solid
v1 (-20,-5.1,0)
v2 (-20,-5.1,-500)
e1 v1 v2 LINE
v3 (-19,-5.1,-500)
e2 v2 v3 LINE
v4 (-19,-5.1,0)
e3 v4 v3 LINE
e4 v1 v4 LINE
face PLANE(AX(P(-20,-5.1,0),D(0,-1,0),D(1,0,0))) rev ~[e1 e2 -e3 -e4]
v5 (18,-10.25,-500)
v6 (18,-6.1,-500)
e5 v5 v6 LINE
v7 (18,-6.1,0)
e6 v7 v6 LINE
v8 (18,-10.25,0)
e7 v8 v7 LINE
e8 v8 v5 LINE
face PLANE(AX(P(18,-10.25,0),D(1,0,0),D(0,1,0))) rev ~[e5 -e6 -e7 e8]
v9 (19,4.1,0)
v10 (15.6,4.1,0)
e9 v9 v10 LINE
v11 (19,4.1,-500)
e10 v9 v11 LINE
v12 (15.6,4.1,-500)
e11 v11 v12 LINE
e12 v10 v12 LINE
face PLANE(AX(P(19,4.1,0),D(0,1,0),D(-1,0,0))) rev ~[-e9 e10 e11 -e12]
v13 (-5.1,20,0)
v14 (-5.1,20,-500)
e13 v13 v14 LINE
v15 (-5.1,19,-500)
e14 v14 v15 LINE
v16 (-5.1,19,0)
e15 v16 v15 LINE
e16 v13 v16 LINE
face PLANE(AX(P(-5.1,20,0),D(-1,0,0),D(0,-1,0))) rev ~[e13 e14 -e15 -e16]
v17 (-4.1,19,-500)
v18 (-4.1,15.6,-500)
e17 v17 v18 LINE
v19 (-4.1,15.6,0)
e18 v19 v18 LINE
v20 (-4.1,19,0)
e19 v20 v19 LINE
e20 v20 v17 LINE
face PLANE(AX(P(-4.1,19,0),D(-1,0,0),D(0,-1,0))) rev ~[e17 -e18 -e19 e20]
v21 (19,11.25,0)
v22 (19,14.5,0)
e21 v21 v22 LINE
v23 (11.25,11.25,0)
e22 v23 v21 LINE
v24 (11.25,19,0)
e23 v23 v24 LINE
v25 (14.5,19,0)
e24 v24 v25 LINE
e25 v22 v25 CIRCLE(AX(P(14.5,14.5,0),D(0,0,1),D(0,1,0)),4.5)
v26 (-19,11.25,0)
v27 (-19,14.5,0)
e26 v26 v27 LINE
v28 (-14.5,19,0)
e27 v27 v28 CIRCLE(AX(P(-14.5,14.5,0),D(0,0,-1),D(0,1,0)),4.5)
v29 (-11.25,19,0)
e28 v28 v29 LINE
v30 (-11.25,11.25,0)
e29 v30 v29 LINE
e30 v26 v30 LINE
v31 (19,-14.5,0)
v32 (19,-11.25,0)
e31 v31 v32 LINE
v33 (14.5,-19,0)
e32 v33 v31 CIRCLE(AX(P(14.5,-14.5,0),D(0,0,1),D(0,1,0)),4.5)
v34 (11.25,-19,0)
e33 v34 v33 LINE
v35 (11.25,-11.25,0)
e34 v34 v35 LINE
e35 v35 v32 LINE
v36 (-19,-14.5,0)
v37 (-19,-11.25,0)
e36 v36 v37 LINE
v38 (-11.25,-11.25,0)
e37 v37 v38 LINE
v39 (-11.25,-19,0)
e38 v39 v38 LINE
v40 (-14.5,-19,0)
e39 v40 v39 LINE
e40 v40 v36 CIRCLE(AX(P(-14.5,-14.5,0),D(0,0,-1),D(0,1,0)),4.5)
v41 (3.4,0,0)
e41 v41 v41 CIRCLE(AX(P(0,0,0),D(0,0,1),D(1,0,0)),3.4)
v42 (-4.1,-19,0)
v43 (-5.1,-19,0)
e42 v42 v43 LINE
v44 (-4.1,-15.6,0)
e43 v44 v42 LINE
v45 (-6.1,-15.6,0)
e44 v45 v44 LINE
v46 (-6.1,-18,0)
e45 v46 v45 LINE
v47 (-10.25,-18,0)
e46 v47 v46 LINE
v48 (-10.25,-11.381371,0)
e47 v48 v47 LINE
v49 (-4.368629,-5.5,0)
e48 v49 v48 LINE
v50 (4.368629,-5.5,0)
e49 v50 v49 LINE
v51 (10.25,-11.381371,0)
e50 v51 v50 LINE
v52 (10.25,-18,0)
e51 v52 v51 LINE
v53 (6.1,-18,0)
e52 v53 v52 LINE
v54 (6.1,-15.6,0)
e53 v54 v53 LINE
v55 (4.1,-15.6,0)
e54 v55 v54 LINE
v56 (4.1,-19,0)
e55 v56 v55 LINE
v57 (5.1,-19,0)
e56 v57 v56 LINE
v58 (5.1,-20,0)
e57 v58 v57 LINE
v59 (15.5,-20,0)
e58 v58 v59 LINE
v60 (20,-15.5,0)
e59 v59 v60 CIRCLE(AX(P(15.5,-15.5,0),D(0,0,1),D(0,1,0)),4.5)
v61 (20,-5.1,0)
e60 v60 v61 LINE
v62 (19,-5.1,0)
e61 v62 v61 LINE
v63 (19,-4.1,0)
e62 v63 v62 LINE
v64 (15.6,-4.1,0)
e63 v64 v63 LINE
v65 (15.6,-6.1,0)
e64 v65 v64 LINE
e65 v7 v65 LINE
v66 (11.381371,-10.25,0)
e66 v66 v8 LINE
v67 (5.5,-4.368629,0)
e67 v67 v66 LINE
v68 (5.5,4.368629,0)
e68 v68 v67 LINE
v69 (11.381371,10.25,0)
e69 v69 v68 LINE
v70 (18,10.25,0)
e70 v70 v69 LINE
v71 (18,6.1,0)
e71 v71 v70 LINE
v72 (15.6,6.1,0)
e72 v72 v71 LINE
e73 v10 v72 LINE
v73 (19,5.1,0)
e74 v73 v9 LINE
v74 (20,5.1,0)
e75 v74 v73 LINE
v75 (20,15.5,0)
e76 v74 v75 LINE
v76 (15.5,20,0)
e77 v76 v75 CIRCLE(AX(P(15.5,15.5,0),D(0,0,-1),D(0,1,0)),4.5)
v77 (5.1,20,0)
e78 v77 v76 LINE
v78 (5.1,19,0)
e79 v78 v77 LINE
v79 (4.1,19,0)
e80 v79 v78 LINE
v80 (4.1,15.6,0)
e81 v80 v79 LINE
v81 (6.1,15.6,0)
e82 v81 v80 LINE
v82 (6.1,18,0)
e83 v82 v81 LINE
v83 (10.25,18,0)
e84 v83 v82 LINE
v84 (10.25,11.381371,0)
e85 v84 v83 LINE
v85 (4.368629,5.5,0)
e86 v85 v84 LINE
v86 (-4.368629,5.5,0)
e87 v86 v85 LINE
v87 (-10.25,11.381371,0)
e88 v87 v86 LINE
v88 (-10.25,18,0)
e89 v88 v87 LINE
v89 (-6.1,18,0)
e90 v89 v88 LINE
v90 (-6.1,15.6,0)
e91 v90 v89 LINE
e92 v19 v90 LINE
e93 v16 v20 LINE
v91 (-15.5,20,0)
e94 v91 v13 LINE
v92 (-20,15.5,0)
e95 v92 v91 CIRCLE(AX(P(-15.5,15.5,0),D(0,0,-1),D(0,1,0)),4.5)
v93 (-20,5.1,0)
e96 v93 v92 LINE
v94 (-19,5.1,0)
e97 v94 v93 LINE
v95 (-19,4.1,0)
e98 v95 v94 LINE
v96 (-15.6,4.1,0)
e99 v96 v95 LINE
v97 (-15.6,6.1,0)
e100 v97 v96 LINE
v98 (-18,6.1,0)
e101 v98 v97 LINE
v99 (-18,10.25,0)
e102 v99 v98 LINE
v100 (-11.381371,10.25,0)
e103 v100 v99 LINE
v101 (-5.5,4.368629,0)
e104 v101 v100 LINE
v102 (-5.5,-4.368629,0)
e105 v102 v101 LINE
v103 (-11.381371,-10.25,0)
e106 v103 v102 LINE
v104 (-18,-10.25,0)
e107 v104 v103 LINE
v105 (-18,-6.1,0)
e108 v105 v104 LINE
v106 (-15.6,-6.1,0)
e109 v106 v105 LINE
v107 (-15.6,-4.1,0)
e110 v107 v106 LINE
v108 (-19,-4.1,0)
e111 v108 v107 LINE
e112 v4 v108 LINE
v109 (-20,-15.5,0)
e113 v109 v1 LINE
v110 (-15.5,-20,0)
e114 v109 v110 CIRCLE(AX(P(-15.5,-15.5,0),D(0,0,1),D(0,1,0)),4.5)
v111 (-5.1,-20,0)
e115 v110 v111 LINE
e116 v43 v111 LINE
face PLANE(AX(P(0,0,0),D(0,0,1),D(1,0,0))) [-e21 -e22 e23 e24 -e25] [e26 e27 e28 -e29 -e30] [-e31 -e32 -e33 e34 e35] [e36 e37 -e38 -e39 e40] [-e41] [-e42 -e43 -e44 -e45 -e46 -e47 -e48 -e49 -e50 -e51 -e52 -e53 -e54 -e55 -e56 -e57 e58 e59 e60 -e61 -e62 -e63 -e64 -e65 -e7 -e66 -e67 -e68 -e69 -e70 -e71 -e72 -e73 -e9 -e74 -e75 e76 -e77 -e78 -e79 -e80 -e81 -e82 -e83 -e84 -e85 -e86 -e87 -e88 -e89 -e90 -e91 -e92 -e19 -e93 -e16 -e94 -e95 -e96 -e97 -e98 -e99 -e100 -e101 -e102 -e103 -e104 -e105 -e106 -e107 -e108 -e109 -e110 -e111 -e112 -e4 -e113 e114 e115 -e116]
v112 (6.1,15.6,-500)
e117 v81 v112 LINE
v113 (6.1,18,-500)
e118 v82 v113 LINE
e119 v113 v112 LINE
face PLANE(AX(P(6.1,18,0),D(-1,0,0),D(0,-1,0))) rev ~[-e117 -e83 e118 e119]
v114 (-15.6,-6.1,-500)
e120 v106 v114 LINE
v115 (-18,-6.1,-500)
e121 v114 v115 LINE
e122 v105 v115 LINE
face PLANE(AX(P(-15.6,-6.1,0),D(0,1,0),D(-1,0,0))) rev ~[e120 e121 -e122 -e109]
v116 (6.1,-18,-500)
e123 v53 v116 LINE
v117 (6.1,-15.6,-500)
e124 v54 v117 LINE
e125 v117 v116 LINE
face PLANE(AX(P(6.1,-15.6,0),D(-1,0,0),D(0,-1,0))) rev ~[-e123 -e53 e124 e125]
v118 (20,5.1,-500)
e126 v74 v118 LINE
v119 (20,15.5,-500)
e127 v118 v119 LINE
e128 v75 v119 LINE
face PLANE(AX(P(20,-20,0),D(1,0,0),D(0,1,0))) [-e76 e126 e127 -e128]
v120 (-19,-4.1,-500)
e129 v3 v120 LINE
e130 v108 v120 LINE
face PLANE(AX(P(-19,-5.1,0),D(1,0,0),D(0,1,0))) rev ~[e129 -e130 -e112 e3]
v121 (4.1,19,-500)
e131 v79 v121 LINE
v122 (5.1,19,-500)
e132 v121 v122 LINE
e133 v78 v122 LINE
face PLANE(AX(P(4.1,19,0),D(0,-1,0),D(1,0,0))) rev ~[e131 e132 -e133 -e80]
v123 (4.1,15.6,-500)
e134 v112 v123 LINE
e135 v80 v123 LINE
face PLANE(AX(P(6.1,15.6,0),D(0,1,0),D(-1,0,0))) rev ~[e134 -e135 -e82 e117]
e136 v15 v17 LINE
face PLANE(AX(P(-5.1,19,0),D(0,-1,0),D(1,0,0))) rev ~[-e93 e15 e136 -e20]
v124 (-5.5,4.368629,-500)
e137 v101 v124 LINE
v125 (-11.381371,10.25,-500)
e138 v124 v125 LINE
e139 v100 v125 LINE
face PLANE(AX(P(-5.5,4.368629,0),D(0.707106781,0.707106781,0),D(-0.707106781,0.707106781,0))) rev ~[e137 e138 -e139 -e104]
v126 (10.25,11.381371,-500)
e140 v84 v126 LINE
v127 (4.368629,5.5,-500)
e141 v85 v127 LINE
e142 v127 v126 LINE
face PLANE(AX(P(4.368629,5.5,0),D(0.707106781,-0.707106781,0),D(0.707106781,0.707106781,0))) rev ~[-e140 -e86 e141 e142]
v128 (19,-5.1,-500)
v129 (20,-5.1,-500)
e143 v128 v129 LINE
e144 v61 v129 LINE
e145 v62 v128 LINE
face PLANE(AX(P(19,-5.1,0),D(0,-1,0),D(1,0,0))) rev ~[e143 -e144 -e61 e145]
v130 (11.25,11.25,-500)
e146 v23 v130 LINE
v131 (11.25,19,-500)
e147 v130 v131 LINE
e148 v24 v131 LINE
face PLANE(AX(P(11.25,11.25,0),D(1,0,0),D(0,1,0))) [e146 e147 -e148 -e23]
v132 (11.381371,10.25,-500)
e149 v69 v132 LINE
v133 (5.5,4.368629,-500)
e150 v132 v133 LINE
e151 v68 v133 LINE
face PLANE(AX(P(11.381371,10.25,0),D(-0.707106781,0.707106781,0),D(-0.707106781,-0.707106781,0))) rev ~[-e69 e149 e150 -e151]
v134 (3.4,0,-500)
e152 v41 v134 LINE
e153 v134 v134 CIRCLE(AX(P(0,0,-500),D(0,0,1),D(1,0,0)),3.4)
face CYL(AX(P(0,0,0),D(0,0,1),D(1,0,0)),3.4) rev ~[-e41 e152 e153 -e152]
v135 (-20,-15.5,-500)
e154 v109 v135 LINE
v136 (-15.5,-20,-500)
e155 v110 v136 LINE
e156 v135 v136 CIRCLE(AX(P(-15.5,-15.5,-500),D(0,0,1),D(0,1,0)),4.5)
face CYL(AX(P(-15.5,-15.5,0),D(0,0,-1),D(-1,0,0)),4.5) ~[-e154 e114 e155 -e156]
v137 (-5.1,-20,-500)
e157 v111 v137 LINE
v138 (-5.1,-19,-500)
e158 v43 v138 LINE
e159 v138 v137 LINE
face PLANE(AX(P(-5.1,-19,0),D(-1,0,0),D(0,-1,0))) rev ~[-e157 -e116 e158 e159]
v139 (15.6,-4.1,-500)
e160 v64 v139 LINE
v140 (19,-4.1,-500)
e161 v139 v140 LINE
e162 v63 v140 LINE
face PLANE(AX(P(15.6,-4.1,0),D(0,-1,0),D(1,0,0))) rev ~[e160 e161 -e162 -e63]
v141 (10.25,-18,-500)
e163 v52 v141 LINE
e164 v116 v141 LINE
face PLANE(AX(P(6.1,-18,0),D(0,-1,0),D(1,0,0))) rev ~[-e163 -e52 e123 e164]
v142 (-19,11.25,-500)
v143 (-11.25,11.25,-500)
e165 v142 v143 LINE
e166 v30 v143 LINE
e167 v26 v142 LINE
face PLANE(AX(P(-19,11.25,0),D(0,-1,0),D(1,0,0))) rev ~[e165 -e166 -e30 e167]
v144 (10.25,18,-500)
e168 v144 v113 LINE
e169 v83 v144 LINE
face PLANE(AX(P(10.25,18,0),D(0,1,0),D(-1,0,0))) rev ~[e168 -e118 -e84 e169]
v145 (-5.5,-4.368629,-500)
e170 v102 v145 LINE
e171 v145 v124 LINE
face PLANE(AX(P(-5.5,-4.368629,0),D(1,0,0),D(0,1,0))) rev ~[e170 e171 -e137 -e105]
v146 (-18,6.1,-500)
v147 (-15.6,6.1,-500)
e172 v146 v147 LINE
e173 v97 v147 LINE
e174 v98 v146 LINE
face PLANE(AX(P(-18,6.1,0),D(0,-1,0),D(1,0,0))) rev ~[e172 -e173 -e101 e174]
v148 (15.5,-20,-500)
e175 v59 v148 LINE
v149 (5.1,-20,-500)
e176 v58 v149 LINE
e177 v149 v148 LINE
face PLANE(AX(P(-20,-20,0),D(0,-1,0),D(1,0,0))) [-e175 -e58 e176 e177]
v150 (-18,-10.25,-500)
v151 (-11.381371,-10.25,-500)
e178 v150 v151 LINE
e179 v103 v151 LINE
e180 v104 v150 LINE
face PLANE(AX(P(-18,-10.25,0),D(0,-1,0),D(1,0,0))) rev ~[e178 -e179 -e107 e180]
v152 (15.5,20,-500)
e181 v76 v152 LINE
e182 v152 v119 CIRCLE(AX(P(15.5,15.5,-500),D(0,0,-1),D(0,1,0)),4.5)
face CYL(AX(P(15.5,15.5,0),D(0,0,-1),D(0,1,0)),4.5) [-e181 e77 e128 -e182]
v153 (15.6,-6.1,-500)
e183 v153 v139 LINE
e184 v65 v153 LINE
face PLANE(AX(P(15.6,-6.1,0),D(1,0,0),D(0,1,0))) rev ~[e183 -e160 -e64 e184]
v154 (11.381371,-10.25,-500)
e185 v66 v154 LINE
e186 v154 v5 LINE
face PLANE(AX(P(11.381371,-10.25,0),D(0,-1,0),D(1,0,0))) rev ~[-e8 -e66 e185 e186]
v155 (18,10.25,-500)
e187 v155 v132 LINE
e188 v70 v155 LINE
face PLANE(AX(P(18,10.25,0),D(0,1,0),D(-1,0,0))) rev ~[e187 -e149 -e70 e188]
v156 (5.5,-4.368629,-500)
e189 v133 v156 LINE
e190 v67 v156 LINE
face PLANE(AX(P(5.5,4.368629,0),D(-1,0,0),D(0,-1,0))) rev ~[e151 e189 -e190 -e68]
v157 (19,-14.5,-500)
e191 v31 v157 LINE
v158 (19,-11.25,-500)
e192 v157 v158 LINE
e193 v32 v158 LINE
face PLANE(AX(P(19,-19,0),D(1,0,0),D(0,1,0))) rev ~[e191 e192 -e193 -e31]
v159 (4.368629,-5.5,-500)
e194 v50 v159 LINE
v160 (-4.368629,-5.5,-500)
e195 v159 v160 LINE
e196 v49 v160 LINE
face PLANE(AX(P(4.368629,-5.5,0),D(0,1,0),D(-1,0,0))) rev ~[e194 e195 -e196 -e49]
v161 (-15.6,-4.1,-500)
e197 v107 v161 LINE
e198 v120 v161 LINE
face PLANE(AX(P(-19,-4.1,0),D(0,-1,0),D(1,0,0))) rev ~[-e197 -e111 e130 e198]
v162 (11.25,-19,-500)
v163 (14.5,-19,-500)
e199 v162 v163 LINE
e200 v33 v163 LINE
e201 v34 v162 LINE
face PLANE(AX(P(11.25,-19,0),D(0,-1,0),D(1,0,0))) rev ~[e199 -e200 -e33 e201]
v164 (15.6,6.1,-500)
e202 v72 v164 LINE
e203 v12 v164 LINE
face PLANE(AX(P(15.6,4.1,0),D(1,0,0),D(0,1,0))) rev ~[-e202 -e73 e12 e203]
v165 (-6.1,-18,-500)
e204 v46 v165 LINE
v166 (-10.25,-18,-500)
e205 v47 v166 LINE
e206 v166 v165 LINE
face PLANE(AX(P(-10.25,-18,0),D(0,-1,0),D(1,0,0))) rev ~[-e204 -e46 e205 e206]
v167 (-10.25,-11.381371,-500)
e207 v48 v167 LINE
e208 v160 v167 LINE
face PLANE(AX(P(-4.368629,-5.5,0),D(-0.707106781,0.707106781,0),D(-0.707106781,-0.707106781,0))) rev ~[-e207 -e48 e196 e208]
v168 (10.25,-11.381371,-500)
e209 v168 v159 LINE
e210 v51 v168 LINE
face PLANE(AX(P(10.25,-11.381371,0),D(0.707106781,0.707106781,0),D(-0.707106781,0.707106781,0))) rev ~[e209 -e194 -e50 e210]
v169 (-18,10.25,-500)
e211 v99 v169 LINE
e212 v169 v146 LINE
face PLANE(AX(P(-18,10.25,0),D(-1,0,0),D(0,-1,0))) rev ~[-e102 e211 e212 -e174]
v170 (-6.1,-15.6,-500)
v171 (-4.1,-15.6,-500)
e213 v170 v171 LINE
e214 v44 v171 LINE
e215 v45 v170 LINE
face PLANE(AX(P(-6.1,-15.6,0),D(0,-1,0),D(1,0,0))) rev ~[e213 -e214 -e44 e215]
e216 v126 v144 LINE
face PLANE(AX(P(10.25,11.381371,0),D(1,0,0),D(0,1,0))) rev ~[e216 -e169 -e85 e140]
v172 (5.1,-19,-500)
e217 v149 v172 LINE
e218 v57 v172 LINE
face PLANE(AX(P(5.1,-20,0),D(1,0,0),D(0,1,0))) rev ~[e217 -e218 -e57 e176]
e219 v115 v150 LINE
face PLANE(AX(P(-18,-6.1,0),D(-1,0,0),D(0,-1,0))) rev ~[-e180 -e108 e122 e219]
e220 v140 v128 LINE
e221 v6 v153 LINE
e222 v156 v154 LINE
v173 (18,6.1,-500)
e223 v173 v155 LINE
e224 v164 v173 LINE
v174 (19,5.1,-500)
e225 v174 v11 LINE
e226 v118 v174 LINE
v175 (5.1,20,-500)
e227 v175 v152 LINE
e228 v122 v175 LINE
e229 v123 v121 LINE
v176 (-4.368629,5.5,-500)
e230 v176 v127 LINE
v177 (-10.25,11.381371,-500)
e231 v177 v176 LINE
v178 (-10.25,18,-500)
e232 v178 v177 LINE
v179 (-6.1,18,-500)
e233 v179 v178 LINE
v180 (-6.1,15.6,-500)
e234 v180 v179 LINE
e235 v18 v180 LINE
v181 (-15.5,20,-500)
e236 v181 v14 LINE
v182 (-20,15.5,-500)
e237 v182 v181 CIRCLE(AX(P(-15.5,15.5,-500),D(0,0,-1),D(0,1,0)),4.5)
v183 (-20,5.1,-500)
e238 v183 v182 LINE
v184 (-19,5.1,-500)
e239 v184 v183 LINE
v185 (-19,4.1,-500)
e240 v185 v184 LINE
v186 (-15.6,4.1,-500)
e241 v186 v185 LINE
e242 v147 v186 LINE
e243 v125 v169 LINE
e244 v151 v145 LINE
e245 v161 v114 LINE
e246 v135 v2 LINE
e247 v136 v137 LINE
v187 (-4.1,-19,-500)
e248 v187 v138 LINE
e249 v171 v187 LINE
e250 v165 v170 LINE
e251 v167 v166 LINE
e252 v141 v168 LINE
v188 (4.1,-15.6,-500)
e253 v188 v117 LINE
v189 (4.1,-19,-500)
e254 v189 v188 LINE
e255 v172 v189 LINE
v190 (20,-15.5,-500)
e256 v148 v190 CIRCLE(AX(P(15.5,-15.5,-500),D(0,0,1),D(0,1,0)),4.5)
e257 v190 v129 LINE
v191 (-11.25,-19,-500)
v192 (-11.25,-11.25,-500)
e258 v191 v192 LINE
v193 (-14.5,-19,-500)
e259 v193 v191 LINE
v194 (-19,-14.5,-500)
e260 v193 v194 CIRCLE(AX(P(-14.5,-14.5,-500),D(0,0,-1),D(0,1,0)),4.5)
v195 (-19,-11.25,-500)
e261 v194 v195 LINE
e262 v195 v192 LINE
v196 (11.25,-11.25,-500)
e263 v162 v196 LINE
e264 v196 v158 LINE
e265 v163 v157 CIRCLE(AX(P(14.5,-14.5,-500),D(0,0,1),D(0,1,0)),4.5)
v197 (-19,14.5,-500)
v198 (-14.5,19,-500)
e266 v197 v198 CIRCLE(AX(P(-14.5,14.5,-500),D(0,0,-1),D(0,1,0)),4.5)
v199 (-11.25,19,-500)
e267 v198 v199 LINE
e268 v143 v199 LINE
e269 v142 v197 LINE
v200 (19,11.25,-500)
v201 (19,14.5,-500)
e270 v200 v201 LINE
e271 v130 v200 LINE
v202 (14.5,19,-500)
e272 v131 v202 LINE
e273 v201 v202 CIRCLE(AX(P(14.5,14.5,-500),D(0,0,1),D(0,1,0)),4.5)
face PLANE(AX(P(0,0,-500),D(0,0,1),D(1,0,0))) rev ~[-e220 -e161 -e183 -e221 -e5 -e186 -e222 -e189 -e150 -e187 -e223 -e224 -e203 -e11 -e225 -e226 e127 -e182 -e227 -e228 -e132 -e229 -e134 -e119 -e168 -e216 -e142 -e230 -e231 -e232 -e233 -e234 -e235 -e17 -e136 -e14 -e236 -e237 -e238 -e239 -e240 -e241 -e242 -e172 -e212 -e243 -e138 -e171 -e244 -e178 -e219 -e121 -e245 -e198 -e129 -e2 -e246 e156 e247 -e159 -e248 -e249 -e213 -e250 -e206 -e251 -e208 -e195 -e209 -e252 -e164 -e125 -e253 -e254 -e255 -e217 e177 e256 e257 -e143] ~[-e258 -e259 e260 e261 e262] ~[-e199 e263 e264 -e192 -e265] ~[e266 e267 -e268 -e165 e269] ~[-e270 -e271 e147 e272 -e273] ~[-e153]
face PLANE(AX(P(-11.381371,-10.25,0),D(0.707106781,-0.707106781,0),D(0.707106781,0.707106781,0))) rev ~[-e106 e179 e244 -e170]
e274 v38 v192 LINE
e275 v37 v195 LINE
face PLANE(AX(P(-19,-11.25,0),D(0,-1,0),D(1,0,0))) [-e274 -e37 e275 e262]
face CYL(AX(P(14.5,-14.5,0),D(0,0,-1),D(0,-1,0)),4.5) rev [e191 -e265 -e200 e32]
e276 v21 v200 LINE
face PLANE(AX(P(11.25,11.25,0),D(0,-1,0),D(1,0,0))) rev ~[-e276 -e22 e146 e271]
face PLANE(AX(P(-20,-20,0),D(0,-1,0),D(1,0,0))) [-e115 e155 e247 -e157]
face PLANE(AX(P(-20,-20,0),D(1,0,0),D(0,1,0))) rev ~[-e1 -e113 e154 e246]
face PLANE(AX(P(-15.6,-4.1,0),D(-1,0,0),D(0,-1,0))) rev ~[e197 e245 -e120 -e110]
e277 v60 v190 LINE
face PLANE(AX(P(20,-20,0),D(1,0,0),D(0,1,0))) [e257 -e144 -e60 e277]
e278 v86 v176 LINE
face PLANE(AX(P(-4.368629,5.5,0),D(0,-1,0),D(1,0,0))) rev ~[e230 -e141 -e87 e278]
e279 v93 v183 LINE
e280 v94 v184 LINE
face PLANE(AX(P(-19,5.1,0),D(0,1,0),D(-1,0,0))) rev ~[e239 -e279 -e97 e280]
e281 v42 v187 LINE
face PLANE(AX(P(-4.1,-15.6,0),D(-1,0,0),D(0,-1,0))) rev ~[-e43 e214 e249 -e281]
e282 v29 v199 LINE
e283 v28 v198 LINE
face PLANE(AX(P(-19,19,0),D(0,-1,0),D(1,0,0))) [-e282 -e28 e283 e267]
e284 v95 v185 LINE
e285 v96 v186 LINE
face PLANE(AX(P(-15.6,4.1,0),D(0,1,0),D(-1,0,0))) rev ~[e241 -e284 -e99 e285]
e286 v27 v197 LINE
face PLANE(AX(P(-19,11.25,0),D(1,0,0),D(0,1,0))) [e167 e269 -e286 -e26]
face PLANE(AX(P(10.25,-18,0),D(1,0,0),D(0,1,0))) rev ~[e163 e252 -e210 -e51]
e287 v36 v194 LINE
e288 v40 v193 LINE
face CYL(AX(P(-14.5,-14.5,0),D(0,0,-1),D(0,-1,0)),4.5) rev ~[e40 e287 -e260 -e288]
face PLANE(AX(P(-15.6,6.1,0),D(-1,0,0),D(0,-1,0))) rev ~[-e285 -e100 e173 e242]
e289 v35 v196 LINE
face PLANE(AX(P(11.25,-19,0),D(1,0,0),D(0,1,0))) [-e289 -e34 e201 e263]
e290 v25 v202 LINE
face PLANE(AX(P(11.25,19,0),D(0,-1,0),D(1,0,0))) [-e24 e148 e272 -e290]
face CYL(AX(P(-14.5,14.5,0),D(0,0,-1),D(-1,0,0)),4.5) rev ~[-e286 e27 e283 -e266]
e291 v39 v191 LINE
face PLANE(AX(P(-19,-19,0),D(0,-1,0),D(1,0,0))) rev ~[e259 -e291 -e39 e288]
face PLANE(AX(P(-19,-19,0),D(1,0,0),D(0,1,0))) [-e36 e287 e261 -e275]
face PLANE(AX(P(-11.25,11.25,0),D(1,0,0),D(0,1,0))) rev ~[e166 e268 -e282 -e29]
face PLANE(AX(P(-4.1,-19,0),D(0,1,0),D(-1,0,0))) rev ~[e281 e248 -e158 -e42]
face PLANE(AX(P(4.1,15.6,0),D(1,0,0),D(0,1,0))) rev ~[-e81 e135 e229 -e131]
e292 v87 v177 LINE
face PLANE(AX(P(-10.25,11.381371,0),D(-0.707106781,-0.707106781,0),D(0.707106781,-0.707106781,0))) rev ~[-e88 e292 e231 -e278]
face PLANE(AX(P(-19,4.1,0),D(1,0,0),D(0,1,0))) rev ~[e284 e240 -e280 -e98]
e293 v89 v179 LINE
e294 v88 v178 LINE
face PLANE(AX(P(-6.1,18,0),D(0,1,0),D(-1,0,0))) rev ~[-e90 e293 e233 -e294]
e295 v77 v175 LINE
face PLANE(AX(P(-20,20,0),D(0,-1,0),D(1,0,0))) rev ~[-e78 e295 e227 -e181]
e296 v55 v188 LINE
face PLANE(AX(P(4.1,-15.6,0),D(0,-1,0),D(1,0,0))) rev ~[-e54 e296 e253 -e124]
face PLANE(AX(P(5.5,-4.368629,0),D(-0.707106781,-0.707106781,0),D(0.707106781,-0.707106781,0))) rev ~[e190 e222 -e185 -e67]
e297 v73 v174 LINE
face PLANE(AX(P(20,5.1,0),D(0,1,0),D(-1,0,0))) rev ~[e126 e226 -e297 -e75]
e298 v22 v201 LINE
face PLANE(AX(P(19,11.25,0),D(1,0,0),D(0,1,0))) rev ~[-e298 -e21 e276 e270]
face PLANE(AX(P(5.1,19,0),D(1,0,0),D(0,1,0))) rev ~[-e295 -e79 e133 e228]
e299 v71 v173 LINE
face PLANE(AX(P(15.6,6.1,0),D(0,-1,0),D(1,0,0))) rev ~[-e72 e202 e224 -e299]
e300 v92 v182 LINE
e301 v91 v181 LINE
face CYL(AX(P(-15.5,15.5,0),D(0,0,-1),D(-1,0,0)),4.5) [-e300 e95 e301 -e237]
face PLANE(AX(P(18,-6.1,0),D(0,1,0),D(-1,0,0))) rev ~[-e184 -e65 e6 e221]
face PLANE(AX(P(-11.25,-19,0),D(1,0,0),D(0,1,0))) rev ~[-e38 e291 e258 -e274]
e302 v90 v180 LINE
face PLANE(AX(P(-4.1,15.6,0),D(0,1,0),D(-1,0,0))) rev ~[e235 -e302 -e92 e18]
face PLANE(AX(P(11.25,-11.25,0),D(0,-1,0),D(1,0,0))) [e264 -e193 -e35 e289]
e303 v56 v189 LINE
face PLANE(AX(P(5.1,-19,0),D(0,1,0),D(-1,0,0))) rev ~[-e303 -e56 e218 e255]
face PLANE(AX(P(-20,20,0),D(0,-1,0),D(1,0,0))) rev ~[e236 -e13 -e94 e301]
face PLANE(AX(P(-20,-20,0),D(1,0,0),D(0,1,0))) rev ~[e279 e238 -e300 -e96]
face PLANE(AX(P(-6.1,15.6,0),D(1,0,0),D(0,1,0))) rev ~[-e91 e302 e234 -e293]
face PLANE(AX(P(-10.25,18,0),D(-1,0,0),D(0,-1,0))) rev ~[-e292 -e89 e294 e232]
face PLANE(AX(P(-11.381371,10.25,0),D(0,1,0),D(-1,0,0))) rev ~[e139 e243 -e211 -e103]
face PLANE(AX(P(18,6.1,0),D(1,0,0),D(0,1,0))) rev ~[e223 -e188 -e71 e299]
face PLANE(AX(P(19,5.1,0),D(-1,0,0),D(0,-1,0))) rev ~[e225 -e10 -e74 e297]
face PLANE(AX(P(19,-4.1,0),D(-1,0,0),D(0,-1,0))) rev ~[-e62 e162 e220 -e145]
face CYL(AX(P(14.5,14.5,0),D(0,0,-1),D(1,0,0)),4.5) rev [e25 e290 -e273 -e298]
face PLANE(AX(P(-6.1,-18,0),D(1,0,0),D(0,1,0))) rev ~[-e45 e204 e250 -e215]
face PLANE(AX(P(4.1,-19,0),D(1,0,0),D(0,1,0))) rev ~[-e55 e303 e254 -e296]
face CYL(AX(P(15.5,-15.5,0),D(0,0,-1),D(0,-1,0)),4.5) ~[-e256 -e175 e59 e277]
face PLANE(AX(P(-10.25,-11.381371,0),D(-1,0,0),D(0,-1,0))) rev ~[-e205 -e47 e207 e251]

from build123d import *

# Parameters (mm, degrees)
SKETCH_1_W          = 40
SKETCH_1_H          = 40
EXTRUDE_1_DEPTH     = 500
CUT_EXTRUDE_1_DEPTH = 501
SKETCH_3_W          = 7.75
SKETCH_3_H          = 7.75
CUT_EXTRUDE_2_DEPTH = 501
SKETCH_4_R          = 3.4
CUT_EXTRUDE_3_DEPTH = 501
FILLET_1_R          = 4.5


with BuildPart() as part:
    # 草图1 → 凸台-拉伸1 (new body)
    with BuildSketch(Plane.XY):
        Rectangle(SKETCH_1_W, SKETCH_1_H)
    extrude(amount=-EXTRUDE_1_DEPTH)

    # 草图2 → 切除-拉伸1 (cut, through all)
    with BuildSketch(Plane.XY):
        Polygon((-19, 5.1), (-20, 5.1), (-20, -5.1), (-19, -5.1), (-19, -4.1), (-15.6, -4.1), (-15.6, -6.1), (-18, -6.1), (-18, -10.25), (-11.38137085, -10.25), (-5.5, -4.36862915), (-5.5, 4.36862915), (-11.38137085, 10.25), (-18, 10.25), (-18, 6.1), (-15.6, 6.1), (-15.6, 4.1), (-19, 4.1), align=None)
        Polygon((-5.1, -19), (-5.1, -20), (5.1, -20), (5.1, -19), (4.1, -19), (4.1, -15.6), (6.1, -15.6), (6.1, -18), (10.25, -18), (10.25, -11.38137085), (4.36862915, -5.5), (-4.36862915, -5.5), (-10.25, -11.38137085), (-10.25, -18), (-6.1, -18), (-6.1, -15.6), (-4.1, -15.6), (-4.1, -19), align=None)
        Polygon((20, -5.1), (20, 5.1), (19, 5.1), (19, 4.1), (15.6, 4.1), (15.6, 6.1), (18, 6.1), (18, 10.25), (11.38137085, 10.25), (5.5, 4.36862915), (5.5, -4.36862915), (11.38137085, -10.25), (18, -10.25), (18, -6.1), (15.6, -6.1), (15.6, -4.1), (19, -4.1), (19, -5.1), align=None)
        Polygon((5.1, 20), (-5.1, 20), (-5.1, 19), (-4.1, 19), (-4.1, 15.6), (-6.1, 15.6), (-6.1, 18), (-10.25, 18), (-10.25, 11.38137085), (-4.36862915, 5.5), (4.36862915, 5.5), (10.25, 11.38137085), (10.25, 18), (6.1, 18), (6.1, 15.6), (4.1, 15.6), (4.1, 19), (5.1, 19), align=None)
    extrude(amount=-CUT_EXTRUDE_1_DEPTH, mode=Mode.SUBTRACT)

    # 草图3 → 切除-拉伸2 (cut, through all)
    with BuildSketch(Plane.XY):
        with Locations((-15.125, 15.125)):
            Rectangle(SKETCH_3_W, SKETCH_3_H)
        with Locations((15.125, 15.125)):
            Rectangle(SKETCH_3_W, SKETCH_3_H)
        with Locations((15.125, -15.125)):
            Rectangle(SKETCH_3_W, SKETCH_3_H)
        with Locations((-15.125, -15.125)):
            Rectangle(SKETCH_3_W, SKETCH_3_H)
    extrude(amount=-CUT_EXTRUDE_2_DEPTH, mode=Mode.SUBTRACT)

    # 草图4 → 切除-拉伸3 (cut, through all)
    with BuildSketch(Plane.XY):
        Circle(SKETCH_4_R)
    extrude(amount=-CUT_EXTRUDE_3_DEPTH, mode=Mode.SUBTRACT)

    # 圆角1
    fillet_1_edges = [part.edges().sort_by_distance(p)[0] for p in [
        (-19, -19, -250),
        (19, -19, -250),
        (19, 19, -250),
        (-19, 19, -250),
        (20, -20, -250),
        (-20, -20, -250),
        (-20, 20, -250),
        (20, 20, -250),
    ]]
    fillet(fillet_1_edges, radius=FILLET_1_R)


solid = part.part
